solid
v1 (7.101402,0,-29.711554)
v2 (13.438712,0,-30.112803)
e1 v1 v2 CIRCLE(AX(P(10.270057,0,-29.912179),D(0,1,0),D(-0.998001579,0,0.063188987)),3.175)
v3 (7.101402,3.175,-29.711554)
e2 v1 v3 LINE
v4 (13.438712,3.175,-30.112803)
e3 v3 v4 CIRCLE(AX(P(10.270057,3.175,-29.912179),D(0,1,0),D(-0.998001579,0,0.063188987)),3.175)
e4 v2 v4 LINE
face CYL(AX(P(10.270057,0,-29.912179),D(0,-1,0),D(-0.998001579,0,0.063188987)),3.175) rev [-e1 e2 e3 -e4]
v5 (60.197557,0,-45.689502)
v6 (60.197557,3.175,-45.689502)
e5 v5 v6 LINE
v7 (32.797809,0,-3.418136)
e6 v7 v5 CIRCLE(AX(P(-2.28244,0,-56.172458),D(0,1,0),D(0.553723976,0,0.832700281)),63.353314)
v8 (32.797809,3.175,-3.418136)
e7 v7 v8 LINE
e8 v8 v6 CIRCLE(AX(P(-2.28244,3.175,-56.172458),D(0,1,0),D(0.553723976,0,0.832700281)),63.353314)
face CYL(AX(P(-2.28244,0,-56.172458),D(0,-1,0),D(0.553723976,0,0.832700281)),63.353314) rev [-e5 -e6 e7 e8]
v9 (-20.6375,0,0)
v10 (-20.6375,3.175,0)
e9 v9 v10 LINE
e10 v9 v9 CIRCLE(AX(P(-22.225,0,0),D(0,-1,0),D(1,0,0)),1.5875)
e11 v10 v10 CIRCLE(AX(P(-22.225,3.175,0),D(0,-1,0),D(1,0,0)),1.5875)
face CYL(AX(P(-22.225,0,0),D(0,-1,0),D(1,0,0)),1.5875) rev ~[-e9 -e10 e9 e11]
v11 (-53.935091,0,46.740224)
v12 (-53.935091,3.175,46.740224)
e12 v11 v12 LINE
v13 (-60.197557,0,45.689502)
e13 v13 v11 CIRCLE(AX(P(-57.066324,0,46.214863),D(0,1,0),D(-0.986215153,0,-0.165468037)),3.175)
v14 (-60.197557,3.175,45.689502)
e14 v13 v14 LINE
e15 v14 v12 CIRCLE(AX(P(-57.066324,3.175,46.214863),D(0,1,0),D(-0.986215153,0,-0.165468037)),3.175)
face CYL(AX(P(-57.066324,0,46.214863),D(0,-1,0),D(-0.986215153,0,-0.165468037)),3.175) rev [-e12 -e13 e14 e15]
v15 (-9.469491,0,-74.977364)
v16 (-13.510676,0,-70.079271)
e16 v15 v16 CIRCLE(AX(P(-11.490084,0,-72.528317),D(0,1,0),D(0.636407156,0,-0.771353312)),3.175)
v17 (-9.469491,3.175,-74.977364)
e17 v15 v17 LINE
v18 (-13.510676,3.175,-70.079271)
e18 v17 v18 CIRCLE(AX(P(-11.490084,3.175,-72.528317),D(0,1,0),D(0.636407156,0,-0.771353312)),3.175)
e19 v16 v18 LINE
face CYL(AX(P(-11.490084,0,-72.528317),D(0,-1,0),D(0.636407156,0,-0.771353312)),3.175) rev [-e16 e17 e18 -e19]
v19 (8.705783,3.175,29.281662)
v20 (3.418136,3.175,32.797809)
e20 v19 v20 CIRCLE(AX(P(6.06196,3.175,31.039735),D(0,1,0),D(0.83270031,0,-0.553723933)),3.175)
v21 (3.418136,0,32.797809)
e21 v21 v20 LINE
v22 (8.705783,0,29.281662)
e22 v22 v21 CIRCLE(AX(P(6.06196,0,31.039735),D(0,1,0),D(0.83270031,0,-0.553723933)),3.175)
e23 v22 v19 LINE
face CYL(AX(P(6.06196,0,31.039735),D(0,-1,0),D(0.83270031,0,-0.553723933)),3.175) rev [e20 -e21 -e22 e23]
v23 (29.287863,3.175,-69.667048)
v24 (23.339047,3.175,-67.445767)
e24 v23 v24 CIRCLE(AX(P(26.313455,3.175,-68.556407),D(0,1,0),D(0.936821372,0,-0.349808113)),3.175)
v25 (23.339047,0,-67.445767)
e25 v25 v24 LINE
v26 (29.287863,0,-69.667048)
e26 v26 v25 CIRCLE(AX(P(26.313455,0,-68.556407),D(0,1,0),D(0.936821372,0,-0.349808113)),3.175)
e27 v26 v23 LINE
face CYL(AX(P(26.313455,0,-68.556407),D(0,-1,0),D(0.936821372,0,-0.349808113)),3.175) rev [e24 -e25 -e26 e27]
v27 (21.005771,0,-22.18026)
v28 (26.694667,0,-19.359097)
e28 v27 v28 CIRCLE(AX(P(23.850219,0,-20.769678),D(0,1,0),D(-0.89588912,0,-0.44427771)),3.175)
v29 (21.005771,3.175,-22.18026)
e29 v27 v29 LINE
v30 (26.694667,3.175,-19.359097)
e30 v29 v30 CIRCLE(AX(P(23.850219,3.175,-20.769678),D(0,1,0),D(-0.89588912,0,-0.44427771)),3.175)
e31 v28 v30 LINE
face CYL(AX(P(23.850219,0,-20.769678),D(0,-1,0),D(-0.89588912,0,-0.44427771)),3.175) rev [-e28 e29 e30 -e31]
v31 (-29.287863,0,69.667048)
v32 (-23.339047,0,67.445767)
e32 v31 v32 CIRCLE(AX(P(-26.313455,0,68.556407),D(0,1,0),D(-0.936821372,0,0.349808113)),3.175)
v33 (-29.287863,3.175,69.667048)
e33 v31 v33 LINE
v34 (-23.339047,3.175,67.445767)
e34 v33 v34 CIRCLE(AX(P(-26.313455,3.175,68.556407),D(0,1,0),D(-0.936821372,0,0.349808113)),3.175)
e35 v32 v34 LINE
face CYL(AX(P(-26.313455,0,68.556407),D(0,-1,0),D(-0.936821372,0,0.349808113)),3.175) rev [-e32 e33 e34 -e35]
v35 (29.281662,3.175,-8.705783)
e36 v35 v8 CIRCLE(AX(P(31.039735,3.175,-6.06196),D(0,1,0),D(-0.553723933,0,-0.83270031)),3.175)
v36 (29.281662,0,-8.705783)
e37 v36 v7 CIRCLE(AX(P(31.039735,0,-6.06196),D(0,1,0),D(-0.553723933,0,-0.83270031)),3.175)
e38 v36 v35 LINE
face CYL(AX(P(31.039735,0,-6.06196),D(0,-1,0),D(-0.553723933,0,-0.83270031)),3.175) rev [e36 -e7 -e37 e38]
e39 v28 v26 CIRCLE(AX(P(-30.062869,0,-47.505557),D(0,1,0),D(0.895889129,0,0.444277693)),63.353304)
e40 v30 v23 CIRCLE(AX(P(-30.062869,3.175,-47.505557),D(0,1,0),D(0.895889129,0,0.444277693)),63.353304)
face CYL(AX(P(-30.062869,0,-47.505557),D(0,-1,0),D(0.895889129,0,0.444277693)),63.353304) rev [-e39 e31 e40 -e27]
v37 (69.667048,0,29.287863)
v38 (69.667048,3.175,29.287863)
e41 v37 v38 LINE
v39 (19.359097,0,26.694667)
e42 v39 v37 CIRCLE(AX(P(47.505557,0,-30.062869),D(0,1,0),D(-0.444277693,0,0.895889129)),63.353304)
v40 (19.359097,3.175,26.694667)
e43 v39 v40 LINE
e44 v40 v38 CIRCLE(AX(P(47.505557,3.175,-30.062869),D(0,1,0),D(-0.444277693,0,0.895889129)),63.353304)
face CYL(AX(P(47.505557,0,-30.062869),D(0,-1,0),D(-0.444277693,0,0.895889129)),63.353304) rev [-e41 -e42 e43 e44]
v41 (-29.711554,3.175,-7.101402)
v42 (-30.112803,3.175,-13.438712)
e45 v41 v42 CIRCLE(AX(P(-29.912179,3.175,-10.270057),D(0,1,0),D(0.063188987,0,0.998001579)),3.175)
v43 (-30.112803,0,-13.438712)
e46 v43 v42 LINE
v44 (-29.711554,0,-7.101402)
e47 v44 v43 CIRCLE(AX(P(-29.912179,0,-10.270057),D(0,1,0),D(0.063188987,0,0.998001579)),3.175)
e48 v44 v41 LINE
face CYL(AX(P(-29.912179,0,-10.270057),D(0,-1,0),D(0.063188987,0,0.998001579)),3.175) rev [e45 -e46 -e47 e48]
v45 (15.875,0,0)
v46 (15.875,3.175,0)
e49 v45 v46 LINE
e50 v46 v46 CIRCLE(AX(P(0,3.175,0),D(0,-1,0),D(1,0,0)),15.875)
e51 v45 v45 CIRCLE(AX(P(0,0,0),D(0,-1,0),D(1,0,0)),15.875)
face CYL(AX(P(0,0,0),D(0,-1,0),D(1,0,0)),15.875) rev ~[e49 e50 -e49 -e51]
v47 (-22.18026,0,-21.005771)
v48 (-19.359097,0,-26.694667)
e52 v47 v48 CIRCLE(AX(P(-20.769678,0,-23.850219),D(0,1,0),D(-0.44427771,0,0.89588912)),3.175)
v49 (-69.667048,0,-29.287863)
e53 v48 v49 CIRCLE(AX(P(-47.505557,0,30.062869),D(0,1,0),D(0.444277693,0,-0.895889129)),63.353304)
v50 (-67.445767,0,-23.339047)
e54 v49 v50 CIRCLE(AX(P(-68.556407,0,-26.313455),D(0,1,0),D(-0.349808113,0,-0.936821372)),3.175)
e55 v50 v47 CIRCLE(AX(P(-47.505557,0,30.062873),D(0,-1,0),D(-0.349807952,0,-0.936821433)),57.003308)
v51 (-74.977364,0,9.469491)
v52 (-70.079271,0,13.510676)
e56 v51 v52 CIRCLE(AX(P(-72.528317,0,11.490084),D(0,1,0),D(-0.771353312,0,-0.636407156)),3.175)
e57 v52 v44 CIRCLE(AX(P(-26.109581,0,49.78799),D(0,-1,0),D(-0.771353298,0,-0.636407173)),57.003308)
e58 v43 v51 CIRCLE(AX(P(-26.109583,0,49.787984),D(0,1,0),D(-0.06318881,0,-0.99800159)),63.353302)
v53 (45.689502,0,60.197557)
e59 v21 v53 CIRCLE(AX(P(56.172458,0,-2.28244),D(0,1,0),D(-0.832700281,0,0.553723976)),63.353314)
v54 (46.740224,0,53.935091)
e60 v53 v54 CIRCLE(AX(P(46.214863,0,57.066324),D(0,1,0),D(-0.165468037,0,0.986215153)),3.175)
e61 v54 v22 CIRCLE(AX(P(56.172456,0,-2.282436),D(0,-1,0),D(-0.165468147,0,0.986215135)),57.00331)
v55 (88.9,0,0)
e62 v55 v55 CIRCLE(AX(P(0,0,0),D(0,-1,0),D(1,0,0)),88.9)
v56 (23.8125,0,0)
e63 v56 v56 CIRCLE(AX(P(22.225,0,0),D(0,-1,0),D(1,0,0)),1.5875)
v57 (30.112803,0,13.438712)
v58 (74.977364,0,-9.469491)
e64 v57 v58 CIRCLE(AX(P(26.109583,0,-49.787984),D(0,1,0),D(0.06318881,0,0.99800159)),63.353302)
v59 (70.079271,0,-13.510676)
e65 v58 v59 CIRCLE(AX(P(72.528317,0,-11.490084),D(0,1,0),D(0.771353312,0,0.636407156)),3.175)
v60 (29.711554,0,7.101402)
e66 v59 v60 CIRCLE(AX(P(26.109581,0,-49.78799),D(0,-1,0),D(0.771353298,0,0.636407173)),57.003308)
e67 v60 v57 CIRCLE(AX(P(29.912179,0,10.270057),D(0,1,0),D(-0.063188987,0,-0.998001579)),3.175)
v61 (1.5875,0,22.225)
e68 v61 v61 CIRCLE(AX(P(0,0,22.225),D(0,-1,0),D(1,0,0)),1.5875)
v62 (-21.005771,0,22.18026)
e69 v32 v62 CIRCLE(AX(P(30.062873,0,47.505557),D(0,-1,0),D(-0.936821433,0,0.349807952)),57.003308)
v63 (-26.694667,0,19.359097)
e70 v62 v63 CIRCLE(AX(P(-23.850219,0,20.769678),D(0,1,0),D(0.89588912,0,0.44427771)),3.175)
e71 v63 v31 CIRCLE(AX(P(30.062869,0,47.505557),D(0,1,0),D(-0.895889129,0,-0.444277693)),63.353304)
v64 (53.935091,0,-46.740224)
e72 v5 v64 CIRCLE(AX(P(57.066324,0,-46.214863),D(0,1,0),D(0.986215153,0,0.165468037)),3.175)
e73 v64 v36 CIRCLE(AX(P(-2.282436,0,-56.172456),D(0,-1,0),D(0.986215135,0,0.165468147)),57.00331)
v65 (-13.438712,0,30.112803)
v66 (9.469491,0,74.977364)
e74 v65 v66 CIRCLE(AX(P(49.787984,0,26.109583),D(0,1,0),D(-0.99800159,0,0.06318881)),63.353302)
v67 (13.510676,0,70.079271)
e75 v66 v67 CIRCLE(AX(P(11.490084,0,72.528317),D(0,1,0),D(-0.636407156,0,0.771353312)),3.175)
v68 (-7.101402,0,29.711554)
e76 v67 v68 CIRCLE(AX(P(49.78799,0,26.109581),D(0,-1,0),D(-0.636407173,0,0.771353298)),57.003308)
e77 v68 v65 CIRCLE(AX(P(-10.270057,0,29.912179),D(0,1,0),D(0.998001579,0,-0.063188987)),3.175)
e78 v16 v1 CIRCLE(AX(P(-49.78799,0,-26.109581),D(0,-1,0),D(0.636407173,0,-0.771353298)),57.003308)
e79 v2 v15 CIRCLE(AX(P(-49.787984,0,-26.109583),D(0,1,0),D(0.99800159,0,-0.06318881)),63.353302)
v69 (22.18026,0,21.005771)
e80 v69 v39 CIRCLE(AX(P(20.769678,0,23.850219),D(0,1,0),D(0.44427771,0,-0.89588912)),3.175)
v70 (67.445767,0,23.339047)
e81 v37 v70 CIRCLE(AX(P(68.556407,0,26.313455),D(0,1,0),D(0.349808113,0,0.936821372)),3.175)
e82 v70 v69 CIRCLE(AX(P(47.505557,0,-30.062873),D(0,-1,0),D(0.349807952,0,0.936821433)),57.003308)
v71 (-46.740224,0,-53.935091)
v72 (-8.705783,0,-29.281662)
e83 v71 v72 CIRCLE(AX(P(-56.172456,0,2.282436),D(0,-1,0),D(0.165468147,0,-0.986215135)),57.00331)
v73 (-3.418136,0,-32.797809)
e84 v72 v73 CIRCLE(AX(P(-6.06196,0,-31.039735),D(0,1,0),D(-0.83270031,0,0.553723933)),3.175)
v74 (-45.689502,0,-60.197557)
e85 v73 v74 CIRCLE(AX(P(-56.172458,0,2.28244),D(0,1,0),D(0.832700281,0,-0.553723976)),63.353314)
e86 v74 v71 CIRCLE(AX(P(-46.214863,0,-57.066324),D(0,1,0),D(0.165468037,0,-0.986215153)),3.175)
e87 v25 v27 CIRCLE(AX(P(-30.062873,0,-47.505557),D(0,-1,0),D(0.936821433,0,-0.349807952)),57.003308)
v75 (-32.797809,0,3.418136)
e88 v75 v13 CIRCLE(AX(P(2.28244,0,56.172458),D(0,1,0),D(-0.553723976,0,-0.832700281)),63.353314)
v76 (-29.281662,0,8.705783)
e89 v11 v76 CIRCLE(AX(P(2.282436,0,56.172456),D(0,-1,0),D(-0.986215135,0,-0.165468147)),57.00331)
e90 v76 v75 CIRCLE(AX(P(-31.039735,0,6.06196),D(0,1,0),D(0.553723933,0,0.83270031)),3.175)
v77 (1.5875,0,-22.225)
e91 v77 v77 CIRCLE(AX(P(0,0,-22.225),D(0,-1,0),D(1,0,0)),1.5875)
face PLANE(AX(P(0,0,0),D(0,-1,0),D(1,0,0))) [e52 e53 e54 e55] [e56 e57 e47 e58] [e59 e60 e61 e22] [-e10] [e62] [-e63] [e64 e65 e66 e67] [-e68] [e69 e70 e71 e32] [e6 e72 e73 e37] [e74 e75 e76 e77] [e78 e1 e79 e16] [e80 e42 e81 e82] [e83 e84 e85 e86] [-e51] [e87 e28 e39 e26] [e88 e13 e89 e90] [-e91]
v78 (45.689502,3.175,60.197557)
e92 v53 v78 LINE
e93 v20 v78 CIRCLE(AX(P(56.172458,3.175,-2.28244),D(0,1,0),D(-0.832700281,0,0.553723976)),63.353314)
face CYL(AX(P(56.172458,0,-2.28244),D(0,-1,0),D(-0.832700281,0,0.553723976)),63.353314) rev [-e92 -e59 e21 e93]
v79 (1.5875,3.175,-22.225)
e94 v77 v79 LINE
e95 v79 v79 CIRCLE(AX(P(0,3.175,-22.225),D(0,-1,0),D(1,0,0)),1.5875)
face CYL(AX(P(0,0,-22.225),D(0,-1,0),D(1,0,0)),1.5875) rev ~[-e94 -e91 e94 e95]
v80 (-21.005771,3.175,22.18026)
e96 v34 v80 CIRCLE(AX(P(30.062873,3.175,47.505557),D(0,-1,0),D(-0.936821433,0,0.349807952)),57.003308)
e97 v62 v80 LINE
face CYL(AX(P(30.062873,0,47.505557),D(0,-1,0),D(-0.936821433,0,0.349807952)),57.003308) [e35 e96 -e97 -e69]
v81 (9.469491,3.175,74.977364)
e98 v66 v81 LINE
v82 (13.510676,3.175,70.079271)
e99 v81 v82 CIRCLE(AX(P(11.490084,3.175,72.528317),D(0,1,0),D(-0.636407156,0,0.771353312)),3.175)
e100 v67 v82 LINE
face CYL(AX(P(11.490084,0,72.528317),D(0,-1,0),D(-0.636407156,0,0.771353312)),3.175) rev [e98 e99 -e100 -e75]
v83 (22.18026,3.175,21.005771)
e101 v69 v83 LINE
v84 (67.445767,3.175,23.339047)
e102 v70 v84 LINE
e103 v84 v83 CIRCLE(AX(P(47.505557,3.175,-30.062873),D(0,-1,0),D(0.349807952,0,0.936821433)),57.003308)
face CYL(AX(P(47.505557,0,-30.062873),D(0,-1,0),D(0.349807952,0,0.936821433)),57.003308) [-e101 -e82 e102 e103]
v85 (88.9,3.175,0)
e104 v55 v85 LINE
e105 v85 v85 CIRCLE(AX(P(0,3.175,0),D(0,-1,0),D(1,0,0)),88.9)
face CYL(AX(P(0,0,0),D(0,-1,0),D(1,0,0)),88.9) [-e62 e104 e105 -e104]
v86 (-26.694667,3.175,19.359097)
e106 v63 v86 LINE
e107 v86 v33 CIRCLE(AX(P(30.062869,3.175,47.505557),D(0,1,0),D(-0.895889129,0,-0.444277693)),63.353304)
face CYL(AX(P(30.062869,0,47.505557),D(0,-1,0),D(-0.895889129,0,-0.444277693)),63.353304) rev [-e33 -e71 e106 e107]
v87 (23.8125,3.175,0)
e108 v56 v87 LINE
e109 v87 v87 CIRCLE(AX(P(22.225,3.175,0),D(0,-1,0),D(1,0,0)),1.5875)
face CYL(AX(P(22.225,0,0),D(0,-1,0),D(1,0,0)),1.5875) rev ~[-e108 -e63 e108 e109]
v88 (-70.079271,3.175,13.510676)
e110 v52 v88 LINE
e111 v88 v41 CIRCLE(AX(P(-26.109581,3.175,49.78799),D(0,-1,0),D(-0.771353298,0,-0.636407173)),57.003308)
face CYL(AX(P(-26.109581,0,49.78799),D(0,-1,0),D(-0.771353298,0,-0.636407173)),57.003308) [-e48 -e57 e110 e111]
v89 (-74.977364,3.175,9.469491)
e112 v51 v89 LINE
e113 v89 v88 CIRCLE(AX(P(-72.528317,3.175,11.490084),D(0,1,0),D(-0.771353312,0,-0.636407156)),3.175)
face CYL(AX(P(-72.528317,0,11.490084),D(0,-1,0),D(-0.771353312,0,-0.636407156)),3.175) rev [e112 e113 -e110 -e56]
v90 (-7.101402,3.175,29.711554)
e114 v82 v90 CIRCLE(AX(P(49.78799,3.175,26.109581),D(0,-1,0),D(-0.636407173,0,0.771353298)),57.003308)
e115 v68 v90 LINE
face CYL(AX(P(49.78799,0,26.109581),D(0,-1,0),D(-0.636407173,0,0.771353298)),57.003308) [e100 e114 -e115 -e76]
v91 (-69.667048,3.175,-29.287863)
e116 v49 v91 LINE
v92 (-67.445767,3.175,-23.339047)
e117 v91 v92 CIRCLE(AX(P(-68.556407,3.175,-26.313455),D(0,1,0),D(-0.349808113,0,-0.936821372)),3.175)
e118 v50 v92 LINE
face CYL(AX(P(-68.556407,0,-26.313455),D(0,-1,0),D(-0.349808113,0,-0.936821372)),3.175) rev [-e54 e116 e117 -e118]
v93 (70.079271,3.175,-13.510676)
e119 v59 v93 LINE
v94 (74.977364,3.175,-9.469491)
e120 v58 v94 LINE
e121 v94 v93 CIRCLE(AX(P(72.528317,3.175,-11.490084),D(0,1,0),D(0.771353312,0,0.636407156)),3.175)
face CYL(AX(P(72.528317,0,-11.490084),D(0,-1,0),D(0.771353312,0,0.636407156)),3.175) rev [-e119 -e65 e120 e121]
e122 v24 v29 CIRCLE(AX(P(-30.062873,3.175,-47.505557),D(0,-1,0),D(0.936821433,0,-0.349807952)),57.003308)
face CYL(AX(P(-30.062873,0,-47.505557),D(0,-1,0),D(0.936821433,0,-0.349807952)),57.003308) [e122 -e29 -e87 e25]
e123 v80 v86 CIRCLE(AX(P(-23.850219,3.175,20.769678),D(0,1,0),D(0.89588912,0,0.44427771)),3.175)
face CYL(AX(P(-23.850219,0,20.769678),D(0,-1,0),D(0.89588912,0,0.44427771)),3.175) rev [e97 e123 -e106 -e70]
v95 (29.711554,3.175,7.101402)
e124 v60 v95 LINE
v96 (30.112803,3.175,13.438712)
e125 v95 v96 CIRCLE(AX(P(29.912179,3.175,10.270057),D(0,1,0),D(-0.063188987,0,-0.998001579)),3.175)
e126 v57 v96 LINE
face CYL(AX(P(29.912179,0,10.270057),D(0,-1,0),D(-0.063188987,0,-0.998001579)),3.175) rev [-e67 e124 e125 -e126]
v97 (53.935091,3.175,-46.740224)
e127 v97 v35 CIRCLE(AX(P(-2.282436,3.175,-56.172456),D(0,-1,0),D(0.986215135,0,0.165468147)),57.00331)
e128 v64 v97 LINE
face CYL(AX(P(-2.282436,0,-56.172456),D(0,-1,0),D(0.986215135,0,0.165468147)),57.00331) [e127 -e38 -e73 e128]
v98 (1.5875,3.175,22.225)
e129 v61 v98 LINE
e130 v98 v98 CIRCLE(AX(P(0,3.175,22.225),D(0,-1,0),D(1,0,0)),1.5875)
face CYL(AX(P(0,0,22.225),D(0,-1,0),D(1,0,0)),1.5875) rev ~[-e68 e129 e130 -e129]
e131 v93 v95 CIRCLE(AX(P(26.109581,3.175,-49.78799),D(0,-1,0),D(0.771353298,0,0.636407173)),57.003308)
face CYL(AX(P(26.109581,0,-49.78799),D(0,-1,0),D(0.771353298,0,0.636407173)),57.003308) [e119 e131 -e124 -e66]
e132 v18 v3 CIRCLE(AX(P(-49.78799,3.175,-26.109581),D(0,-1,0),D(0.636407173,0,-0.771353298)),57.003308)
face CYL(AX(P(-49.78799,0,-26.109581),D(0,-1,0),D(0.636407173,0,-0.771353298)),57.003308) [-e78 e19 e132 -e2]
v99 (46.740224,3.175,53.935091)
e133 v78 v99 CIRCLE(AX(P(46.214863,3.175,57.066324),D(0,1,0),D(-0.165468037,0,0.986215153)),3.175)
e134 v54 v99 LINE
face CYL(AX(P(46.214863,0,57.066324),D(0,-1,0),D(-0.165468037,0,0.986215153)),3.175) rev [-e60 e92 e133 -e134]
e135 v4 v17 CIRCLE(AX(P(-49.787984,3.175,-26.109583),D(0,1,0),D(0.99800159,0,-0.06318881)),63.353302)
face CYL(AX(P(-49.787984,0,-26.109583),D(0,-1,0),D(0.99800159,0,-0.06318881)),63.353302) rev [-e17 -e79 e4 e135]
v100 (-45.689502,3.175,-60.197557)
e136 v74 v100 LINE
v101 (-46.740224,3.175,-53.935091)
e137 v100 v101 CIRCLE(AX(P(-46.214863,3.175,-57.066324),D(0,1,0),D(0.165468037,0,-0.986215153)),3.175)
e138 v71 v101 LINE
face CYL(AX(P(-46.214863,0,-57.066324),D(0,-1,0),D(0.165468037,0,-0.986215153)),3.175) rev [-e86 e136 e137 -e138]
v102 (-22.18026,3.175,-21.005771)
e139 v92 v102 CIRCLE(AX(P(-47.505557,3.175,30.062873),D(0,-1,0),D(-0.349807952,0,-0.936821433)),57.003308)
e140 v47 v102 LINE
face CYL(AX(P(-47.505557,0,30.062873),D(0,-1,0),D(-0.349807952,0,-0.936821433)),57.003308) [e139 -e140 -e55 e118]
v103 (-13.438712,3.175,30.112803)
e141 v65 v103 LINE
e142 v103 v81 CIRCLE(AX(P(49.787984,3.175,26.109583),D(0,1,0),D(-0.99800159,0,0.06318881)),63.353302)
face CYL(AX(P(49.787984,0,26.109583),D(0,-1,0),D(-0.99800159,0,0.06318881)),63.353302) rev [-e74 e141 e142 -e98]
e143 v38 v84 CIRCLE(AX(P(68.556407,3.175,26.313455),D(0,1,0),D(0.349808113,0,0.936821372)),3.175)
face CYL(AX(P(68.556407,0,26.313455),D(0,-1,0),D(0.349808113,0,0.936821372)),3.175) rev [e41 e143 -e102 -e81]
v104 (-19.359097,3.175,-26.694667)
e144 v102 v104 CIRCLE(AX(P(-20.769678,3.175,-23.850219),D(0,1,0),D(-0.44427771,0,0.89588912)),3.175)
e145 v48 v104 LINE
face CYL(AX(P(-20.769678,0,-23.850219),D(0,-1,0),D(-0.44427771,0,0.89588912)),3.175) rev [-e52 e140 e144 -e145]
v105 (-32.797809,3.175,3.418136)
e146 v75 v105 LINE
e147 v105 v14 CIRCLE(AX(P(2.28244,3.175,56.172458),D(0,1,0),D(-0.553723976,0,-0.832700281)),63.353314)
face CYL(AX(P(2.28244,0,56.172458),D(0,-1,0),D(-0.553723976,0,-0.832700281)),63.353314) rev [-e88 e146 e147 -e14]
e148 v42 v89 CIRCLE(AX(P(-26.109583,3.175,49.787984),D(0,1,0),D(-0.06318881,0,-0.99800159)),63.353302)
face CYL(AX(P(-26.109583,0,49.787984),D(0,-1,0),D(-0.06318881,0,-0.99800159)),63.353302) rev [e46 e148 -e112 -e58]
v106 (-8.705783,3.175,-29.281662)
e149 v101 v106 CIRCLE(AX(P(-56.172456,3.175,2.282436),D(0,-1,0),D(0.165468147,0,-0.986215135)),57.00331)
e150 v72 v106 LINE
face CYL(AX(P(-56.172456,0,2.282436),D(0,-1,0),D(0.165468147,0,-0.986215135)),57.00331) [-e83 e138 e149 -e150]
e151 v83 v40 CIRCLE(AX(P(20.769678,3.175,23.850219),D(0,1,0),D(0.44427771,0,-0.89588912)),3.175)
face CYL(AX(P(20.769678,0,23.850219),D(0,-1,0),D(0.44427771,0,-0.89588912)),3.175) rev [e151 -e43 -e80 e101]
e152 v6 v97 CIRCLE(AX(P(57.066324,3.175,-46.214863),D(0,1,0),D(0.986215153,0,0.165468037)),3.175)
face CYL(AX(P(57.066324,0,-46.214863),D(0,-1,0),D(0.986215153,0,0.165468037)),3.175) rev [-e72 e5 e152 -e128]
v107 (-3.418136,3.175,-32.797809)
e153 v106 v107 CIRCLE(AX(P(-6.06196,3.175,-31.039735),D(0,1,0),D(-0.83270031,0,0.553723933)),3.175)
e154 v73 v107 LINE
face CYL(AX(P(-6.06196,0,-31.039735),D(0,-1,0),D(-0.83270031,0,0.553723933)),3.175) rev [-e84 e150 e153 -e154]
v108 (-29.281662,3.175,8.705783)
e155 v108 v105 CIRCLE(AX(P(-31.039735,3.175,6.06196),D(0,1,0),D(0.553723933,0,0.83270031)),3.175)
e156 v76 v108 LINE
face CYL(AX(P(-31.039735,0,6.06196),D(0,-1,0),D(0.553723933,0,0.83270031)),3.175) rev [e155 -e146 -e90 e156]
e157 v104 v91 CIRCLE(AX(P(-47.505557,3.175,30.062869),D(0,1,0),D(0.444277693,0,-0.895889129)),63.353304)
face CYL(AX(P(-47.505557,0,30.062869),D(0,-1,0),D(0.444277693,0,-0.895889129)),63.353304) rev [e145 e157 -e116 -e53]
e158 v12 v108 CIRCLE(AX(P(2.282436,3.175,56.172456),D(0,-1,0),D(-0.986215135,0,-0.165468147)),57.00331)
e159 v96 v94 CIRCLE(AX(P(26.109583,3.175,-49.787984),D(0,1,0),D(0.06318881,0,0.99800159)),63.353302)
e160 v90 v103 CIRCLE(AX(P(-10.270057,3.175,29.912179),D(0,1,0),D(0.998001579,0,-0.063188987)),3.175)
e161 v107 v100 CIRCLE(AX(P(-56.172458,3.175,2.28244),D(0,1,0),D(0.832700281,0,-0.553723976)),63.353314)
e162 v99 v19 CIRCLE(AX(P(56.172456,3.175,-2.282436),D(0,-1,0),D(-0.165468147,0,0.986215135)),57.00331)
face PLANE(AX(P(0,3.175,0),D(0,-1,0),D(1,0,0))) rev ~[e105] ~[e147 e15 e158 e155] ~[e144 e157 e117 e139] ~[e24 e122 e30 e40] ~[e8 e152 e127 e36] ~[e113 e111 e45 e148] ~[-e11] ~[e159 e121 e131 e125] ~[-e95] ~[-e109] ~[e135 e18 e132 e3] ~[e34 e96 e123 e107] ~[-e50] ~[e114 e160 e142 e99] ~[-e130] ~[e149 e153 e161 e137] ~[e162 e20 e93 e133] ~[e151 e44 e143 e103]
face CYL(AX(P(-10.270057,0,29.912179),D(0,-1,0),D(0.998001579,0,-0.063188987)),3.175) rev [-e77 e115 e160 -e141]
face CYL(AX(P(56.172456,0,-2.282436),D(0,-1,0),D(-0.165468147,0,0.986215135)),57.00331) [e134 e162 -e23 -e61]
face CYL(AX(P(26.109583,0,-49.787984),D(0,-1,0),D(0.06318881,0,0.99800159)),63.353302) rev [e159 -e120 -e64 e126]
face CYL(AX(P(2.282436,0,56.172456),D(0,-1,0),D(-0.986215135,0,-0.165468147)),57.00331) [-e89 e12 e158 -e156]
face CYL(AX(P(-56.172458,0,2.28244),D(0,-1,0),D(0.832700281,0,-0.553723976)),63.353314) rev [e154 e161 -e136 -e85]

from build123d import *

# Parameters (mm, degrees)
F0_R     = 88.9
F0_R_2   = 1.5875
F0_R_3   = 15.875
F1_DEPTH = 3.175


with BuildPart() as f1:
    # F0 (on Front) → F1 (new body)
    with BuildSketch(Plane.XZ):
        Circle(F0_R)
        with BuildLine():
            ThreePointArc((13.438712, -30.112803), (6.635493, -54.919861), (-9.469491, -74.977364))
            ThreePointArc((-9.469491, -74.977364), (-13.93913, -74.54891), (-13.510676, -70.079271))
            ThreePointArc((-13.510676, -70.079271), (0.98008, -52.032162), (7.101402, -29.711554))
            ThreePointArc((7.101402, -29.711554), (10.470681, -26.743524), (13.438712, -30.112803))
        make_face(mode=Mode.SUBTRACT)
        with BuildLine():
            ThreePointArc((-19.359097, -26.694667), (-44.244249, -33.206436), (-69.667048, -29.287863))
            ThreePointArc((-69.667048, -29.287863), (-71.530815, -25.202814), (-67.445767, -23.339047))
            ThreePointArc((-67.445767, -23.339047), (-44.571135, -26.864855), (-22.18026, -21.005771))
            ThreePointArc((-22.18026, -21.005771), (-17.92523, -22.439638), (-19.359097, -26.694667))
        make_face(mode=Mode.SUBTRACT)
        with BuildLine():
            ThreePointArc((-3.418136, -32.797809), (-21.713426, -50.879741), (-45.689502, -60.197557))
            ThreePointArc((-45.689502, -60.197557), (-49.346096, -57.591685), (-46.740224, -53.935091))
            ThreePointArc((-46.740224, -53.935091), (-25.167307, -45.551214), (-8.705783, -29.281662))
            ThreePointArc((-8.705783, -29.281662), (-4.303886, -28.395912), (-3.418136, -32.797809))
        make_face(mode=Mode.SUBTRACT)
        with BuildLine():
            ThreePointArc((26.694667, -19.359097), (33.206436, -44.244249), (29.287863, -69.667048))
            ThreePointArc((29.287863, -69.667048), (25.202814, -71.530815), (23.339047, -67.445767))
            ThreePointArc((23.339047, -67.445767), (26.864855, -44.571135), (21.005771, -22.18026))
            ThreePointArc((21.005771, -22.18026), (22.439638, -17.92523), (26.694667, -19.359097))
        make_face(mode=Mode.SUBTRACT)
        with BuildLine():
            ThreePointArc((32.797809, -3.418136), (50.879741, -21.713426), (60.197557, -45.689502))
            ThreePointArc((60.197557, -45.689502), (57.591685, -49.346096), (53.935091, -46.740224))
            ThreePointArc((53.935091, -46.740224), (45.551214, -25.167307), (29.281662, -8.705783))
            ThreePointArc((29.281662, -8.705783), (28.395912, -4.303886), (32.797809, -3.418136))
        make_face(mode=Mode.SUBTRACT)
        with Locations((0, -22.225)):
            Circle(F0_R_2, mode=Mode.SUBTRACT)
        with BuildLine():
            ThreePointArc((30.112803, 13.438712), (54.919861, 6.635493), (74.977364, -9.469491))
            ThreePointArc((74.977364, -9.469491), (74.54891, -13.93913), (70.079271, -13.510676))
            ThreePointArc((70.079271, -13.510676), (52.032162, 0.98008), (29.711554, 7.101402))
            ThreePointArc((29.711554, 7.101402), (26.743524, 10.470681), (30.112803, 13.438712))
        make_face(mode=Mode.SUBTRACT)
        with BuildLine():
            ThreePointArc((-30.112803, -13.438712), (-54.919861, -6.635493), (-74.977364, 9.469491))
            ThreePointArc((-74.977364, 9.469491), (-74.54891, 13.93913), (-70.079271, 13.510676))
            ThreePointArc((-70.079271, 13.510676), (-52.032162, -0.98008), (-29.711554, -7.101402))
            ThreePointArc((-29.711554, -7.101402), (-26.743524, -10.470681), (-30.112803, -13.438712))
        make_face(mode=Mode.SUBTRACT)
        with Locations((-22.225, 0)):
            Circle(F0_R_2, mode=Mode.SUBTRACT)
        with BuildLine():
            ThreePointArc((-32.797809, 3.418136), (-50.879741, 21.713426), (-60.197557, 45.689502))
            ThreePointArc((-60.197557, 45.689502), (-57.591685, 49.346096), (-53.935091, 46.740224))
            ThreePointArc((-53.935091, 46.740224), (-45.551214, 25.167307), (-29.281662, 8.705783))
            ThreePointArc((-29.281662, 8.705783), (-28.395912, 4.303886), (-32.797809, 3.418136))
        make_face(mode=Mode.SUBTRACT)
        with BuildLine():
            ThreePointArc((-26.694667, 19.359097), (-33.206436, 44.244249), (-29.287863, 69.667048))
            ThreePointArc((-29.287863, 69.667048), (-25.202814, 71.530815), (-23.339047, 67.445767))
            ThreePointArc((-23.339047, 67.445767), (-26.864855, 44.571135), (-21.005771, 22.18026))
            ThreePointArc((-21.005771, 22.18026), (-22.439638, 17.92523), (-26.694667, 19.359097))
        make_face(mode=Mode.SUBTRACT)
        Circle(F0_R_3, mode=Mode.SUBTRACT)
        with Locations((22.225, 0)):
            Circle(F0_R_2, mode=Mode.SUBTRACT)
        with Locations((0, 22.225)):
            Circle(F0_R_2, mode=Mode.SUBTRACT)
        with BuildLine():
            ThreePointArc((3.418136, 32.797809), (21.713426, 50.879741), (45.689502, 60.197557))
            ThreePointArc((45.689502, 60.197557), (49.346096, 57.591685), (46.740224, 53.935091))
            ThreePointArc((46.740224, 53.935091), (25.167307, 45.551214), (8.705783, 29.281662))
            ThreePointArc((8.705783, 29.281662), (4.303886, 28.395912), (3.418136, 32.797809))
        make_face(mode=Mode.SUBTRACT)
        with BuildLine():
            ThreePointArc((19.359097, 26.694667), (44.244249, 33.206436), (69.667048, 29.287863))
            ThreePointArc((69.667048, 29.287863), (71.530815, 25.202814), (67.445767, 23.339047))
            ThreePointArc((67.445767, 23.339047), (44.571135, 26.864855), (22.18026, 21.005771))
            ThreePointArc((22.18026, 21.005771), (17.92523, 22.439638), (19.359097, 26.694667))
        make_face(mode=Mode.SUBTRACT)
        with BuildLine():
            ThreePointArc((-13.438712, 30.112803), (-6.635493, 54.919861), (9.469491, 74.977364))
            ThreePointArc((9.469491, 74.977364), (13.93913, 74.54891), (13.510676, 70.079271))
            ThreePointArc((13.510676, 70.079271), (-0.98008, 52.032162), (-7.101402, 29.711554))
            ThreePointArc((-7.101402, 29.711554), (-10.470681, 26.743524), (-13.438712, 30.112803))
        make_face(mode=Mode.SUBTRACT)
    extrude(amount=-F1_DEPTH)


solid = f1.part
